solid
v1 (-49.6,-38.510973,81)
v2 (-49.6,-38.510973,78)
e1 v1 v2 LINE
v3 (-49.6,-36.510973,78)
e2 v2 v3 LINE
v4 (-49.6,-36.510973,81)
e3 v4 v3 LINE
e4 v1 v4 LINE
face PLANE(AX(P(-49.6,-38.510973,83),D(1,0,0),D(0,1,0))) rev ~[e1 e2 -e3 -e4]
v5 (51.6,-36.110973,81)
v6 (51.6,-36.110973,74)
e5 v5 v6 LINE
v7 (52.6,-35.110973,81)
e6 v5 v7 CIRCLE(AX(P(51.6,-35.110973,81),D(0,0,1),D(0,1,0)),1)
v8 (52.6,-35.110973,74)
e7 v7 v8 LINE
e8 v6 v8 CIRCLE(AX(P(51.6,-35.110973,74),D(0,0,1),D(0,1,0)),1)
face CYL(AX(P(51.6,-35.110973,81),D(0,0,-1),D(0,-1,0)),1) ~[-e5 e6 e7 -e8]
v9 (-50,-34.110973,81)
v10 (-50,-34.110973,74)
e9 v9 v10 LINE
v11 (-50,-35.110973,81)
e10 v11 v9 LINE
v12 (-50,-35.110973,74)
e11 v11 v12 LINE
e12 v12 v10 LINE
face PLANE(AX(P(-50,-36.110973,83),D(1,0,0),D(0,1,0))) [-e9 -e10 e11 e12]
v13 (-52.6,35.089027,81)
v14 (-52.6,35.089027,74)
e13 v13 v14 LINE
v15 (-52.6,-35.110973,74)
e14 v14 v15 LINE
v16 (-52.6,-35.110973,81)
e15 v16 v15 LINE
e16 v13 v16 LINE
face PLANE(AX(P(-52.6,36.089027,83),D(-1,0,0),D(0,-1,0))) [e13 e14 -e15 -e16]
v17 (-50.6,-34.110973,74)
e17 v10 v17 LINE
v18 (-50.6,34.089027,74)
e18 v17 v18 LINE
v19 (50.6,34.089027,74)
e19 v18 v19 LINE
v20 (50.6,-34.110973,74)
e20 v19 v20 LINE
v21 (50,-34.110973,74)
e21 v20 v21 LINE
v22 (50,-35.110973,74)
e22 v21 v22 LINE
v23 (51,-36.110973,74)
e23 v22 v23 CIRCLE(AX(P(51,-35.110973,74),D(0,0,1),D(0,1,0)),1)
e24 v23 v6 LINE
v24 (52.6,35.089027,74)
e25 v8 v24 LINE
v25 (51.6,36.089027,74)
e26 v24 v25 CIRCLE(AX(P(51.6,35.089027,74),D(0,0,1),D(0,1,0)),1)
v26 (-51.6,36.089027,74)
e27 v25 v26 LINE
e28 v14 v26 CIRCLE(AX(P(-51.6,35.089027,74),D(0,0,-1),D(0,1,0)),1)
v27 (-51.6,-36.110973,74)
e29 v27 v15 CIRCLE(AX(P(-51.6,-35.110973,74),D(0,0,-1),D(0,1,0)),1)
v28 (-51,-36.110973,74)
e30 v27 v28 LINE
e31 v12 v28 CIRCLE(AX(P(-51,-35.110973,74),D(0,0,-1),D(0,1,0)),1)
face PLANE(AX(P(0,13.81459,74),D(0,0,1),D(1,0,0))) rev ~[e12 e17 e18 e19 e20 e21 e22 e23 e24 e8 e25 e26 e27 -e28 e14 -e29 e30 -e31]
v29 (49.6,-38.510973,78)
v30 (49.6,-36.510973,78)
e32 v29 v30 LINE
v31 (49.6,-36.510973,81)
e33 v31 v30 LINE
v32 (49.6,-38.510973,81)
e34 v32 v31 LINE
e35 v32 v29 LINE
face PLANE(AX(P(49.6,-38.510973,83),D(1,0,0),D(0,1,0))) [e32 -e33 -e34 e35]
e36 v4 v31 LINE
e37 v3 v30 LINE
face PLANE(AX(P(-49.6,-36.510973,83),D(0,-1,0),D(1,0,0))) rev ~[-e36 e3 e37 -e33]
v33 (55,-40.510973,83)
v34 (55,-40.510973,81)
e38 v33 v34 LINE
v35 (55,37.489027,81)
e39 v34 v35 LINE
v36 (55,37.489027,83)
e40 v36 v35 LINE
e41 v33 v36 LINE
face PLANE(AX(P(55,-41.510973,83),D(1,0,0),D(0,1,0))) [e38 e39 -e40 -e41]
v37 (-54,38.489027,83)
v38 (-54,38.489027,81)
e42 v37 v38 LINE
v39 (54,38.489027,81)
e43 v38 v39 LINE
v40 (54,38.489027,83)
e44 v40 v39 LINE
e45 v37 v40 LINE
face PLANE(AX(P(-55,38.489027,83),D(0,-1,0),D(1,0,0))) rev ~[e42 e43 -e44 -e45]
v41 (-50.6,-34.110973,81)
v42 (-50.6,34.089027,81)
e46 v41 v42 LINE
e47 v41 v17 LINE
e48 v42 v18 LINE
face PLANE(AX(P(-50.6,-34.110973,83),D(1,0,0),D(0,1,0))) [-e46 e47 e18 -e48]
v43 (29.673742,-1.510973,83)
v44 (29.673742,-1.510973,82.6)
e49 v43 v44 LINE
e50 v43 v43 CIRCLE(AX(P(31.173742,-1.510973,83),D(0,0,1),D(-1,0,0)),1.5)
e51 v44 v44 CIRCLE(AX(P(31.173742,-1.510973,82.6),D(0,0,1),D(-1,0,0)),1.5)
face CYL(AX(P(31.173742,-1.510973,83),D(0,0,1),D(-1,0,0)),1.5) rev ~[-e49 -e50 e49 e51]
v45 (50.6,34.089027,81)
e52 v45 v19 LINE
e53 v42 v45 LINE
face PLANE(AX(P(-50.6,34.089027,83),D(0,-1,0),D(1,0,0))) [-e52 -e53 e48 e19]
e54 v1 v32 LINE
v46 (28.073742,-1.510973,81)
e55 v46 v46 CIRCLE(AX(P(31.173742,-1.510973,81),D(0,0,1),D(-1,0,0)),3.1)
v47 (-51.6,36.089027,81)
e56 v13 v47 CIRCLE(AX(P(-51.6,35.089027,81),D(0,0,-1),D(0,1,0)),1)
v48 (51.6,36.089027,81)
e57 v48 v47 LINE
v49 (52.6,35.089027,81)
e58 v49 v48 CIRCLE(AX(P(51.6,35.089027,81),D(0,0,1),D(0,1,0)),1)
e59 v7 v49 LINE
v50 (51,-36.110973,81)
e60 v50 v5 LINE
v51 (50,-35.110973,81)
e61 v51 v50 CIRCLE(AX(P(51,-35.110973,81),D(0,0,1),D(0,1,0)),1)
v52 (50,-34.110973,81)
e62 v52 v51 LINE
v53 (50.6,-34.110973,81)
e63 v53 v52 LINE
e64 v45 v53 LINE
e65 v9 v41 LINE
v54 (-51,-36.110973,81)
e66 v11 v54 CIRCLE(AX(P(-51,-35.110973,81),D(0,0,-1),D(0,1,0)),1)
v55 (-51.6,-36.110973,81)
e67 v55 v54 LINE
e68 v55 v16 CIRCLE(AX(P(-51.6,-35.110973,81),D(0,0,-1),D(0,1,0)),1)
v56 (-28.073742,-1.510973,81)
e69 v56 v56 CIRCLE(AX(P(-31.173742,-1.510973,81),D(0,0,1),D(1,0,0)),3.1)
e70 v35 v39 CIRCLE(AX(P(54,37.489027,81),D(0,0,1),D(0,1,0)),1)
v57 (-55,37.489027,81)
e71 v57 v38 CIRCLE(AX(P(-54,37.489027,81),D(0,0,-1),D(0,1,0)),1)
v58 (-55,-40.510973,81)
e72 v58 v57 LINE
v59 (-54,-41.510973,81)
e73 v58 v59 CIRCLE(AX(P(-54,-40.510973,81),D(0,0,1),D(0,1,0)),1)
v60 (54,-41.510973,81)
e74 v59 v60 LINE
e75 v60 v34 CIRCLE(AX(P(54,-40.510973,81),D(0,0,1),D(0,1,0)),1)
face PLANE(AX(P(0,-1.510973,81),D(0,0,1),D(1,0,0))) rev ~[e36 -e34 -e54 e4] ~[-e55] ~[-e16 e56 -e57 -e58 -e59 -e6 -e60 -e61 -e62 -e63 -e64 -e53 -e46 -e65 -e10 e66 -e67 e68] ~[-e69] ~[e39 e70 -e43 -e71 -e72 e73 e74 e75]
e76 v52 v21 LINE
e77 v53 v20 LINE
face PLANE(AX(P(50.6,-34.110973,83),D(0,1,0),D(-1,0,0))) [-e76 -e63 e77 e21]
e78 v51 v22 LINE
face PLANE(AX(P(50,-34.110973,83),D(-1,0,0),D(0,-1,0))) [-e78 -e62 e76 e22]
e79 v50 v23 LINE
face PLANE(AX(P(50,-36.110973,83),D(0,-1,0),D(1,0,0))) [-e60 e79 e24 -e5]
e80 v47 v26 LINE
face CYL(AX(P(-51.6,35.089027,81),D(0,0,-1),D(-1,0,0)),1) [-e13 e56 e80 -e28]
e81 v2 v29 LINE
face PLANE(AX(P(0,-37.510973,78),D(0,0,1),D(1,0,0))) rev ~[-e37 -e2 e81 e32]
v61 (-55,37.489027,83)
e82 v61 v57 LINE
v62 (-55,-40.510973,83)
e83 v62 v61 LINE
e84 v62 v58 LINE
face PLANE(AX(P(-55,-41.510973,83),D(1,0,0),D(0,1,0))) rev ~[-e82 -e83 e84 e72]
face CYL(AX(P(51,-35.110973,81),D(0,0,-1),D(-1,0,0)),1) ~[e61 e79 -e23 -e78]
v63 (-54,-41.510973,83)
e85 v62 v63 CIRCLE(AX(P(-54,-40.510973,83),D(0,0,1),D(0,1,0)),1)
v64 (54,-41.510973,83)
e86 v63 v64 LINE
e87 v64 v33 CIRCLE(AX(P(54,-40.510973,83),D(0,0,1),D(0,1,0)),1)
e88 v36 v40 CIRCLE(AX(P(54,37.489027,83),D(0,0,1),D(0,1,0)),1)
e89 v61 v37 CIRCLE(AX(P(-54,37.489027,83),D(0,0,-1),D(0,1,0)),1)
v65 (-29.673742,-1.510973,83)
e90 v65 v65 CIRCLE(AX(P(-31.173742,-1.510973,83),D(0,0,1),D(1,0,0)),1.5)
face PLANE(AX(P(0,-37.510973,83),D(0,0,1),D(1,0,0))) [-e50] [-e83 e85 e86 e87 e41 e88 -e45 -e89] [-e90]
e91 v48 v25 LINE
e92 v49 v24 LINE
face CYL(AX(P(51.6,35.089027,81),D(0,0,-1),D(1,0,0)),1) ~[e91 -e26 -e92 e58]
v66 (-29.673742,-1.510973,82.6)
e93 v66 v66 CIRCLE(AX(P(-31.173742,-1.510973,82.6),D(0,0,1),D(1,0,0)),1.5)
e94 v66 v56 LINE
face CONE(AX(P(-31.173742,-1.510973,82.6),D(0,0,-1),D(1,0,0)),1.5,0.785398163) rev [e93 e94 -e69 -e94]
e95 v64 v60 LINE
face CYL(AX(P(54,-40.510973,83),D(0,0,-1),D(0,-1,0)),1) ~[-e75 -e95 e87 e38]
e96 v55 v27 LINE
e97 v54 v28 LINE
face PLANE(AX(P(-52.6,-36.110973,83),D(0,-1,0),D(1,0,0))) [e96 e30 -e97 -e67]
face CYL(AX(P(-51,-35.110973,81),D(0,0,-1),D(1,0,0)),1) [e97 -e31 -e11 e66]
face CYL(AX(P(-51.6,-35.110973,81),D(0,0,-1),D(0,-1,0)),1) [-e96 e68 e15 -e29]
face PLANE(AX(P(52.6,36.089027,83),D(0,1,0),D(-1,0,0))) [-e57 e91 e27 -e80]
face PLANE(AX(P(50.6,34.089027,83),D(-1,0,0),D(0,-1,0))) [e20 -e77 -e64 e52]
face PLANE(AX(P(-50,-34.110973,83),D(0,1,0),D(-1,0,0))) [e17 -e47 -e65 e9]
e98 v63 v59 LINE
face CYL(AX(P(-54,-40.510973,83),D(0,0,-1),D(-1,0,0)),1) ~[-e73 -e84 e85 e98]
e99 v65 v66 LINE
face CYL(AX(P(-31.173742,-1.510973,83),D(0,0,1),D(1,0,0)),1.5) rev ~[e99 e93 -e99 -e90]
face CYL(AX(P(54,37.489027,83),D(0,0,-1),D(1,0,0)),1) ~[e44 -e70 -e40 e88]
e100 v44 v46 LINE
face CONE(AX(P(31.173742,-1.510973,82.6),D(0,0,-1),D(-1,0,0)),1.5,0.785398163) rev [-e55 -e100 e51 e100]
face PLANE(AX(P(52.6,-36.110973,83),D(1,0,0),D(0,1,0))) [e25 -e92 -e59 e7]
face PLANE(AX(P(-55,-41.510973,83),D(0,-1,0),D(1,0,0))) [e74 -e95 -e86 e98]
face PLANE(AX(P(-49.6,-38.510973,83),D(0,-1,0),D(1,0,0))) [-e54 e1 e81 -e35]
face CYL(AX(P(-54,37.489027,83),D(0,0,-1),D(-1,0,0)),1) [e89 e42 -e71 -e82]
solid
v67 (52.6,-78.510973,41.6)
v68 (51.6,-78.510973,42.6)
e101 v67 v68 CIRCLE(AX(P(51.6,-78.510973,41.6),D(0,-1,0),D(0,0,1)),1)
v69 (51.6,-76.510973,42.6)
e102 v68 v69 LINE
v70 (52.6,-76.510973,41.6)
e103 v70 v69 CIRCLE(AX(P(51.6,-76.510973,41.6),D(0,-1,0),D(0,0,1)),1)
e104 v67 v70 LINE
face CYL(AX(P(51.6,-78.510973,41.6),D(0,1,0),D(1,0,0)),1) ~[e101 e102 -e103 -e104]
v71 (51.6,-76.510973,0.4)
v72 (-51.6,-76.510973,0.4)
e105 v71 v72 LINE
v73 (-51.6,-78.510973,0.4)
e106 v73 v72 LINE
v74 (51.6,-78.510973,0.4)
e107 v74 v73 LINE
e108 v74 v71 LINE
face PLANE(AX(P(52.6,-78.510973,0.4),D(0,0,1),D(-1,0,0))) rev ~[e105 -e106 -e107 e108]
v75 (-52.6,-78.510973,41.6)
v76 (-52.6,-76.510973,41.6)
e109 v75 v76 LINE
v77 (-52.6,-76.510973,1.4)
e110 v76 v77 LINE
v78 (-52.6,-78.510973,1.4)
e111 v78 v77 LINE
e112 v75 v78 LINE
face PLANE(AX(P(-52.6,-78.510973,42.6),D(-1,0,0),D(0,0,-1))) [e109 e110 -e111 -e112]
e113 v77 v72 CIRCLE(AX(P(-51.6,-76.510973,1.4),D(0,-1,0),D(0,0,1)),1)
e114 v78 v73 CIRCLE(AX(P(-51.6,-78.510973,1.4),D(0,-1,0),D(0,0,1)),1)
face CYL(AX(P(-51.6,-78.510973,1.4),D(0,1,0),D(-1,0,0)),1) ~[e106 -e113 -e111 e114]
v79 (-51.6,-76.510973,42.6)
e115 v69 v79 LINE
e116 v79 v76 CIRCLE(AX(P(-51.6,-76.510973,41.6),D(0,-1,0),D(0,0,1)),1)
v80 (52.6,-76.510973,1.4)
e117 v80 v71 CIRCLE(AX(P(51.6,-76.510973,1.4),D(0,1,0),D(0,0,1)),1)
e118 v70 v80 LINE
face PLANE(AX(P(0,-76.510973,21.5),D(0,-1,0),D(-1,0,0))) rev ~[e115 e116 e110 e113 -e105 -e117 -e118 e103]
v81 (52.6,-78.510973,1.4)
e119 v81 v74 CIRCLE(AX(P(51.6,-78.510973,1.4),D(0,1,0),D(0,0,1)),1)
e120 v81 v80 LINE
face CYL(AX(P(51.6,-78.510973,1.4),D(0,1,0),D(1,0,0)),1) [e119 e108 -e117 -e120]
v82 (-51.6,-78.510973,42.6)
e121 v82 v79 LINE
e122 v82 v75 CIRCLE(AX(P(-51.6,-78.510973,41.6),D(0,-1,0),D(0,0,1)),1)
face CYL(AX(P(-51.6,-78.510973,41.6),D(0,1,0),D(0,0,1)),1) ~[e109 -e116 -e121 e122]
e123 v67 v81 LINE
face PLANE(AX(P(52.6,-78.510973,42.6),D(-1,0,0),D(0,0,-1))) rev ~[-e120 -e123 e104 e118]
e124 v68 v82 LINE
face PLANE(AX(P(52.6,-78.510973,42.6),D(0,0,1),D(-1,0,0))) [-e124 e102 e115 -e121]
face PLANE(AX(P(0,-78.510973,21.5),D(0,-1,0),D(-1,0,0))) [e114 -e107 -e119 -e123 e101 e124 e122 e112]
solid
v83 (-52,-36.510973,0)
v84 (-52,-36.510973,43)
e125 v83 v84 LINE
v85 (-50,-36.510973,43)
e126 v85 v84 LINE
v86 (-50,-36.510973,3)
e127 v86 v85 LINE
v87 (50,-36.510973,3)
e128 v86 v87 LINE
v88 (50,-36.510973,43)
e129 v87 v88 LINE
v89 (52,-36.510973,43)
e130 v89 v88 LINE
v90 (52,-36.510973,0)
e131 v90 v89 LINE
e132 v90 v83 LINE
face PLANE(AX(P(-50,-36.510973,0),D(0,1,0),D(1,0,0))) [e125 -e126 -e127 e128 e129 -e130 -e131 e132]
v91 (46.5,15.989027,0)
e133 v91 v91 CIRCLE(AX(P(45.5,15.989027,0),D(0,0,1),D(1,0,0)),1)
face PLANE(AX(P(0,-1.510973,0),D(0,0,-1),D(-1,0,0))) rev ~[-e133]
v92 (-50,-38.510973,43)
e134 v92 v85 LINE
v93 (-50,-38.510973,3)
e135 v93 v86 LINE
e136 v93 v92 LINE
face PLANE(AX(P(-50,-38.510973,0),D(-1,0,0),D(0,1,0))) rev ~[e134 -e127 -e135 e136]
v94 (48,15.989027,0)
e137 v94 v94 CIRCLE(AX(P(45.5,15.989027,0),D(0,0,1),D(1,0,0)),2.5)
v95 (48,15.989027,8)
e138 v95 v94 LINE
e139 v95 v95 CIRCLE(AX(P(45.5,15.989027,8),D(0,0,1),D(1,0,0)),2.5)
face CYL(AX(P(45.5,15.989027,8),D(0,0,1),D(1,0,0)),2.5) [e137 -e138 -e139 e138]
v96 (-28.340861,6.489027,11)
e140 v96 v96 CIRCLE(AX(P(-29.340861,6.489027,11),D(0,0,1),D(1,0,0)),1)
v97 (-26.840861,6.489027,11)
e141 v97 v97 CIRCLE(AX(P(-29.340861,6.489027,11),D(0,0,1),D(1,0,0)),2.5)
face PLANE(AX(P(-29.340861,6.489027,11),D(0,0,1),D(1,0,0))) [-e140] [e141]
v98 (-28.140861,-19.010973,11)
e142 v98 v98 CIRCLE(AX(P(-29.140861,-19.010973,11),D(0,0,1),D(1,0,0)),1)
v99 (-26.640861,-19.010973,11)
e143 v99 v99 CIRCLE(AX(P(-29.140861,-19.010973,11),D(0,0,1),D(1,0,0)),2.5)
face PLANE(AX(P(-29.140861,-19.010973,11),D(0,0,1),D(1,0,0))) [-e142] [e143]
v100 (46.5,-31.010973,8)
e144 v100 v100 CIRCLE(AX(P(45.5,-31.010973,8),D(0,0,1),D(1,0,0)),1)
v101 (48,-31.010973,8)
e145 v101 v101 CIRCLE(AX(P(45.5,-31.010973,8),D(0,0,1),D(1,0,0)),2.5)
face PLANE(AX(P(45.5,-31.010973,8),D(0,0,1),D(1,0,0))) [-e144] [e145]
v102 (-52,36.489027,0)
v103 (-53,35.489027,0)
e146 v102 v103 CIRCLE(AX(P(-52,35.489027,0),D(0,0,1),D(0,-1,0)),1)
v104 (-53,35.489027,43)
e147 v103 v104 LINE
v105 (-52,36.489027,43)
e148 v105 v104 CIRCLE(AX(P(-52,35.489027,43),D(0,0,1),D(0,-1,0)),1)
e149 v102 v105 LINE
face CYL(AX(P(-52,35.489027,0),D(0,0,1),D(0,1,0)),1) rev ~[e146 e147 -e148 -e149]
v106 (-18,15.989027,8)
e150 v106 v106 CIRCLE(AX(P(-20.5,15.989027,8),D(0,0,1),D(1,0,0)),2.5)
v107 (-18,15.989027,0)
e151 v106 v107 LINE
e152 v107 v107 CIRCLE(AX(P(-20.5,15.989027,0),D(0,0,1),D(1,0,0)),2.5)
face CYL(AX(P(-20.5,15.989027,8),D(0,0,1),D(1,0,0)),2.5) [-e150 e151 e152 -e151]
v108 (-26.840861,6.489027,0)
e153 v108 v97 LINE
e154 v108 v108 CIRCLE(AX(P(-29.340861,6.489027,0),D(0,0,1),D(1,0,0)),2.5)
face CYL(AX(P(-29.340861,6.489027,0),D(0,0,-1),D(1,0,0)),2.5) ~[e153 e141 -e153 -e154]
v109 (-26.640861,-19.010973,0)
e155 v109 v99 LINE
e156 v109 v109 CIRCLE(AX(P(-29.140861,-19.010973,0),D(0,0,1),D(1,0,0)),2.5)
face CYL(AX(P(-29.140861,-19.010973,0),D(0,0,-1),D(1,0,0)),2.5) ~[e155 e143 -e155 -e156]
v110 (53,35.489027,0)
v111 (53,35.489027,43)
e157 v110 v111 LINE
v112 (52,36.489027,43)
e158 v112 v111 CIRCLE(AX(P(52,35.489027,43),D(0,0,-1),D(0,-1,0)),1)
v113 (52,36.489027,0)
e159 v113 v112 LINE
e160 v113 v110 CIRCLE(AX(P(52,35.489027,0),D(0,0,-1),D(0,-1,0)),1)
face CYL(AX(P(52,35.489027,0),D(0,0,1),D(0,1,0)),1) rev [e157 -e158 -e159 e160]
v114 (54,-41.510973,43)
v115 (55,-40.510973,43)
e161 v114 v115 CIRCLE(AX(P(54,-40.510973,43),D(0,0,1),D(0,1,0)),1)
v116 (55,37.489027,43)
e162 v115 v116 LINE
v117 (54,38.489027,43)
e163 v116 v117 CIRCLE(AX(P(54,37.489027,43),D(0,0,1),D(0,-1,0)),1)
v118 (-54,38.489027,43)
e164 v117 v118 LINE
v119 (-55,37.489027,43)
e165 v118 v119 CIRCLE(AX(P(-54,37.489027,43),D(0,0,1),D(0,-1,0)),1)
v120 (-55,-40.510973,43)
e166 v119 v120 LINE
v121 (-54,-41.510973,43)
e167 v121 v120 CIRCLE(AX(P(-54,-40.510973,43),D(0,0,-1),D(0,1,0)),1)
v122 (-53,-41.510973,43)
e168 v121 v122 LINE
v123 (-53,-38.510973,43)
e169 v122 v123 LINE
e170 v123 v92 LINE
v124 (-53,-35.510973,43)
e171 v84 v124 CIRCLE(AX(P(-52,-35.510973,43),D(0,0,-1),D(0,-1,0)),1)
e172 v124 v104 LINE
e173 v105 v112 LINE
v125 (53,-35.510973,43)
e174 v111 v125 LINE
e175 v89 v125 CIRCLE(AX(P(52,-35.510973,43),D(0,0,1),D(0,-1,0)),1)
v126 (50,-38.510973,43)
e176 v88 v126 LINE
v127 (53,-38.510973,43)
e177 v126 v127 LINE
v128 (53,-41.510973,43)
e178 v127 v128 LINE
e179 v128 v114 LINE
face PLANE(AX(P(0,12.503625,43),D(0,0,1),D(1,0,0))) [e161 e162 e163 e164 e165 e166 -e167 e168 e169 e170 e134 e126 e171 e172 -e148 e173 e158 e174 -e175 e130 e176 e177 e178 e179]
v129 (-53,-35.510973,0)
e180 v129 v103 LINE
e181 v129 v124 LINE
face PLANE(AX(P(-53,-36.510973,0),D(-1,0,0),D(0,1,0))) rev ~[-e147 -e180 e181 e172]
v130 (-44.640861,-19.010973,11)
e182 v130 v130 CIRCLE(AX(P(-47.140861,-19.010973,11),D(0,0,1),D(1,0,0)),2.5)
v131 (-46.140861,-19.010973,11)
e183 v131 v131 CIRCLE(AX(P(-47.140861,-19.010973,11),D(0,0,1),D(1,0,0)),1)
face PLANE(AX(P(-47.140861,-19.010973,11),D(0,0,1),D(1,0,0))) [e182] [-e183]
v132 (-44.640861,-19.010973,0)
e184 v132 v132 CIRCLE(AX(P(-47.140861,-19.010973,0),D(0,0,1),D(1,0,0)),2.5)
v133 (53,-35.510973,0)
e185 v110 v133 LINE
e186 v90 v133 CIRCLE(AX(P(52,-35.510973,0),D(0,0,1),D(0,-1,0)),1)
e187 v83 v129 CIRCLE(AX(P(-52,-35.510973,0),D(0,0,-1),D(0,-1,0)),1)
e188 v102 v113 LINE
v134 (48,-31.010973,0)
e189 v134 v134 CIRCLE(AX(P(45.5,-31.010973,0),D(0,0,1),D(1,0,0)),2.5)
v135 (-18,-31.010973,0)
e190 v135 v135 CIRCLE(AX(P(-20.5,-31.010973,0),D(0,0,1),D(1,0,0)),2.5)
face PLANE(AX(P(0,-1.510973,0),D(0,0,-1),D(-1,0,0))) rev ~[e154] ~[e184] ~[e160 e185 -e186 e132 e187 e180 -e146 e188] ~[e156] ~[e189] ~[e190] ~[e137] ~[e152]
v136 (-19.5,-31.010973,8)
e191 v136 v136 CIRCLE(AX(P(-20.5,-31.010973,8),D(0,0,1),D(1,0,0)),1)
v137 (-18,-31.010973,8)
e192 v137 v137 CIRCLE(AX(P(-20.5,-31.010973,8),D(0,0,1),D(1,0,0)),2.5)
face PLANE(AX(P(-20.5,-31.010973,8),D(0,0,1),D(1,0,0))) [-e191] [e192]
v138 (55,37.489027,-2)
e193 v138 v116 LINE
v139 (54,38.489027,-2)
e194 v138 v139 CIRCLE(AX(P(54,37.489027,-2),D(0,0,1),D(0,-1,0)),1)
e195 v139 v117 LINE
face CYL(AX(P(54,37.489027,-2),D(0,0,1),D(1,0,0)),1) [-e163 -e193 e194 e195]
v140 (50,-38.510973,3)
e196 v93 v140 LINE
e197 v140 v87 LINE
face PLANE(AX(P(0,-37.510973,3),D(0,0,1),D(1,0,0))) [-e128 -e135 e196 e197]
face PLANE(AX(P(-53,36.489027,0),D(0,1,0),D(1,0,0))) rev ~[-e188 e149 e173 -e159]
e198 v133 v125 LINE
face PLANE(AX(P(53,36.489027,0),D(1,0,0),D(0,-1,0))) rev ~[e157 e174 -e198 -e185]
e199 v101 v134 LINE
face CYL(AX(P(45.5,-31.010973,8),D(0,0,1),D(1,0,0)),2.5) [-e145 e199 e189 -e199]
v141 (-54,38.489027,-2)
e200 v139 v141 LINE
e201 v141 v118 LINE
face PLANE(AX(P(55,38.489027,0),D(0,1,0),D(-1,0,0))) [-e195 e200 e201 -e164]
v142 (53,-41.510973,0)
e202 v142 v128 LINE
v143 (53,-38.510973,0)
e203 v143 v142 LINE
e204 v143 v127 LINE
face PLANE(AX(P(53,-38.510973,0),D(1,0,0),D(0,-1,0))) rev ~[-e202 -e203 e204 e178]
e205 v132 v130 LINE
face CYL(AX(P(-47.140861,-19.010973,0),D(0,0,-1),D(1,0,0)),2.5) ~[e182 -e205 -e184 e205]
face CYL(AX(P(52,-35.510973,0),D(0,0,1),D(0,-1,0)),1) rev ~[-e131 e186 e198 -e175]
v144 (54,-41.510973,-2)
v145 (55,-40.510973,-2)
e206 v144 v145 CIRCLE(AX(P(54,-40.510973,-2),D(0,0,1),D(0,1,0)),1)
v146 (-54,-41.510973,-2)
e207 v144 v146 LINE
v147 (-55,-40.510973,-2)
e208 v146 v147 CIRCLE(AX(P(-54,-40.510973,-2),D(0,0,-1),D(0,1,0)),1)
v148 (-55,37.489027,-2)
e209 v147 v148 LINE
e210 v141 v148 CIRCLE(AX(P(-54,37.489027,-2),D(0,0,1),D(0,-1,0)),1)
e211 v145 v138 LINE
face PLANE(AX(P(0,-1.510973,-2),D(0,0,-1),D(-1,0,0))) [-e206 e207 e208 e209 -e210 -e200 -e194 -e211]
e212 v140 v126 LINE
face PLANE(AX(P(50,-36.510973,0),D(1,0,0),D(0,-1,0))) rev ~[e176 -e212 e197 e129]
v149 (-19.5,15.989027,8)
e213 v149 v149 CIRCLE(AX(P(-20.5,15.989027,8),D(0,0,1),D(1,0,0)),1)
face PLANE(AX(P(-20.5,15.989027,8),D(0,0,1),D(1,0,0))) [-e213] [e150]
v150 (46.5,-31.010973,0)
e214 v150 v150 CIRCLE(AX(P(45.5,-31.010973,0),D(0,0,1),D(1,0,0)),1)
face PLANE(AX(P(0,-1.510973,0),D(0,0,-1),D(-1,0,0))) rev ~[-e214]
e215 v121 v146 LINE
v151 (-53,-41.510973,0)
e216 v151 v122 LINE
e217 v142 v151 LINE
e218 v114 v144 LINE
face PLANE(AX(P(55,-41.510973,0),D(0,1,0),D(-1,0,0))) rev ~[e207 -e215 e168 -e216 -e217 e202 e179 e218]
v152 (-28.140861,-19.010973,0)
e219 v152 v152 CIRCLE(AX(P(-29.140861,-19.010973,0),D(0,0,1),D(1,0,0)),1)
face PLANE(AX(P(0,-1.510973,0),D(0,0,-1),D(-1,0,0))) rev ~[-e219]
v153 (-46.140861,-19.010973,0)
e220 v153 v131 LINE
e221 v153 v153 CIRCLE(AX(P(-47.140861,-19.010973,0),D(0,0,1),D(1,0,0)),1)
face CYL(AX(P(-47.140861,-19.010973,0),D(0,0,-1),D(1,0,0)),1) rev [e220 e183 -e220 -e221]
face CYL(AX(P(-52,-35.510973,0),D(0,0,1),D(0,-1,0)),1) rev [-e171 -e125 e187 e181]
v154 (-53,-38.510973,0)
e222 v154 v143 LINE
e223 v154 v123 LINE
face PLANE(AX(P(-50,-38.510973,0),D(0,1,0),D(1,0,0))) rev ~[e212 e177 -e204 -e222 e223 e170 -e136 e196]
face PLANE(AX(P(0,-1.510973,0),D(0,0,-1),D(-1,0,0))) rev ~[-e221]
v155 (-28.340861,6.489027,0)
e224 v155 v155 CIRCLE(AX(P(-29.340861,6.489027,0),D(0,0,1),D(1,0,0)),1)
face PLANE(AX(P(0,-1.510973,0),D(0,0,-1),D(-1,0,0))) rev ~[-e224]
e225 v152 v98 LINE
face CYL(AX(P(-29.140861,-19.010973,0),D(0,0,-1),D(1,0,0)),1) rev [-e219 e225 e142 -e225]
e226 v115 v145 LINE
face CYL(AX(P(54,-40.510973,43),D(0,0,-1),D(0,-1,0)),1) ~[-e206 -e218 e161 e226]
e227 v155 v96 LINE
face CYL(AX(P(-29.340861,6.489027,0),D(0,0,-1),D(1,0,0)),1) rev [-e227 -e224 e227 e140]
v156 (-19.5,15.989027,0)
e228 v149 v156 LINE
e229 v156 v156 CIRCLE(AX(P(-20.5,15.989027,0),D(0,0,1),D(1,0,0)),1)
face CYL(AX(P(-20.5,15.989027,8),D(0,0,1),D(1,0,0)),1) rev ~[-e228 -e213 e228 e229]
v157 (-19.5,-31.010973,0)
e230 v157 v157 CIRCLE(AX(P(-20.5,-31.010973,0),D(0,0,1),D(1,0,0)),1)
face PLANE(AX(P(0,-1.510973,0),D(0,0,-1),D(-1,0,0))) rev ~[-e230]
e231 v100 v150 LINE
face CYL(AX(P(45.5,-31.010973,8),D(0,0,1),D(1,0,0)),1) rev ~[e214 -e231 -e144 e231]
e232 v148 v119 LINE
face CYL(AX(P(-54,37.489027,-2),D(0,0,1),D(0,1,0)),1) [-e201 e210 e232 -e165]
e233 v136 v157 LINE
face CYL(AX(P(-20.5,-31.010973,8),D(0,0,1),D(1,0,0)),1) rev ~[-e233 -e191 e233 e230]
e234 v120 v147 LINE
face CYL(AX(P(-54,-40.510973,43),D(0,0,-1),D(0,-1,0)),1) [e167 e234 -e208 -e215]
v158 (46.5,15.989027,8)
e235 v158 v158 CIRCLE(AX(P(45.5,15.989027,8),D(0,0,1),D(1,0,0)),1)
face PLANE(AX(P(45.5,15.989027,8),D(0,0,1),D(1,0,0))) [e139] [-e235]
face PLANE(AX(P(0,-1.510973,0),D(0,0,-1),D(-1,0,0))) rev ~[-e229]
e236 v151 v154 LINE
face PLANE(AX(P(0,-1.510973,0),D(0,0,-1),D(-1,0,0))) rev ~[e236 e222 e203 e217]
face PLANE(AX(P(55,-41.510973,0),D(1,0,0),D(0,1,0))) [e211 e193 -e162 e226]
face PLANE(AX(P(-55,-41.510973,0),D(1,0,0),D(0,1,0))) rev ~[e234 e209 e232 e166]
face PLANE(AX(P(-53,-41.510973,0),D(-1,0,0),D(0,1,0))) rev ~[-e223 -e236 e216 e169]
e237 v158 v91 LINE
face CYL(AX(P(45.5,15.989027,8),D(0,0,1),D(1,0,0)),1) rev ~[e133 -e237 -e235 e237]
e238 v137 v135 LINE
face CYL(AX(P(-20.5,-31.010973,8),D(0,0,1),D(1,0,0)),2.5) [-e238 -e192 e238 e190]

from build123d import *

# Parameters (mm, degrees)
EXTRUDE_3_DEPTH  = 43
SKETCH_2_W       = 110
SKETCH_2_H       = 80
EXTRUDE_4_DEPTH  = 2
SKETCH_3_R       = 2.5
SKETCH_3_R_2     = 1
EXTRUDE_2_DEPTH  = 8
SKETCH_4_W       = 100
SKETCH_4_H       = 2
EXTRUDE_5_DEPTH  = 3
SKETCH_5_W       = 110
SKETCH_5_H       = 80
SKETCH_5_R       = 1.5
EXTRUDE_6_DEPTH  = 2
EXTRUDE_7_DEPTH  = 9
SKETCH_6_3_W     = 99.2
SKETCH_6_3_H     = 2
EXTRUDE_8_DEPTH  = 5
SKETCH_10_W      = 105.2
SKETCH_10_H      = 42.2
EXTRUDE_9_DEPTH  = 2
CHAMFER_1_SIZE   = 1.6
FILLET_1_R       = 1
FILLET_2_R       = 1
FILLET_3_R       = 1
EXTRUDE_START    = -8
SKETCH_3_3_R     = 2.5
SKETCH_3_3_R_2   = 1
EXTRUDE_10_DEPTH = 11


with BuildPart() as part:
    # Эскиз1 → Бобышка-Вытянуть3 (new body)
    with BuildSketch(Plane.XY):
        Polygon((-55, -41.510973155), (-53, -41.510973155), (-53, -38.510973155), (-50, -38.510973155), (-50, -36.510973155), (-53, -36.510973155), (-53, 36.489026845), (53, 36.489026845), (53, -36.510973155), (50, -36.510973155), (50, -38.510973155), (53, -38.510973155), (53, -41.510973155), (55, -41.510973155), (55, 38.489026845), (-55, 38.489026845), align=None)
    extrude(amount=EXTRUDE_3_DEPTH)

    # Эскиз2 → Бобышка-Вытянуть4 (add)
    with BuildSketch(Plane(origin=(0, 0, 0), x_dir=(-1, 0, 0), z_dir=(0, 0, -1))):
        with Locations((0, -1.510973155)):
            Rectangle(SKETCH_2_W, SKETCH_2_H)
    extrude(amount=EXTRUDE_4_DEPTH)

    # Эскиз3 → Бобышка-Вытянуть2 (add)
    # profile 1 of 4: a face of its own
    with BuildSketch(Plane.XY.offset(8)):
        with Locations((-20.5, 15.989026845)):
            Circle(SKETCH_3_R)
        with Locations((-20.5, 15.989026845)):
            Circle(SKETCH_3_R_2, mode=Mode.SUBTRACT)
    # profile 2 of 4: a face of its own
    with BuildSketch(Plane.XY.offset(8)):
        with Locations((45.5, 15.989026845)):
            Circle(SKETCH_3_R)
        with Locations((45.5, 15.989026845)):
            Circle(SKETCH_3_R_2, mode=Mode.SUBTRACT)
    # profile 3 of 4: a face of its own
    with BuildSketch(Plane.XY.offset(8)):
        with Locations((45.5, -31.010973155)):
            Circle(SKETCH_3_R)
        with Locations((45.5, -31.010973155)):
            Circle(SKETCH_3_R_2, mode=Mode.SUBTRACT)
    # profile 4 of 4: a face of its own
    with BuildSketch(Plane.XY.offset(8)):
        with Locations((-20.5, -31.010973155)):
            Circle(SKETCH_3_R)
        with Locations((-20.5, -31.010973155)):
            Circle(SKETCH_3_R_2, mode=Mode.SUBTRACT)
    extrude(amount=-EXTRUDE_2_DEPTH)

    # Эскиз4 → Бобышка-Вытянуть5 (add)
    with BuildSketch(Plane.XY):
        with Locations((0, -37.510973155)):
            Rectangle(SKETCH_4_W, SKETCH_4_H)
    extrude(amount=EXTRUDE_5_DEPTH)

    # Скругление1
    fillet_1_edges = [part.edges().sort_by_distance(p)[0] for p in [
        (53, -36.510973155, 21.5),
        (53, 36.489026845, 21.5),
        (-53, 36.489026845, 21.5),
        (-53, -36.510973155, 21.5),
        (-55, -41.510973155, 20.5),
        (-55, 38.489026845, 20.5),
        (55, 38.489026845, 20.5),
        (55, -41.510973155, 20.5),
    ]]
    fillet(fillet_1_edges, radius=FILLET_1_R)

    # Эскиз3<3> → Бобышка-Вытянуть10 (add)
    # profile 1 of 3: a face of its own
    with BuildSketch(Plane.XY.offset(8).offset(EXTRUDE_START)):
        with Locations((-47.140860557, -19.010973155)):
            Circle(SKETCH_3_3_R)
        with Locations((-47.140860557, -19.010973155)):
            Circle(SKETCH_3_3_R_2, mode=Mode.SUBTRACT)
    # profile 2 of 3: a face of its own
    with BuildSketch(Plane.XY.offset(8).offset(EXTRUDE_START)):
        with Locations((-29.140860557, -19.010973155)):
            Circle(SKETCH_3_3_R)
        with Locations((-29.140860557, -19.010973155)):
            Circle(SKETCH_3_3_R_2, mode=Mode.SUBTRACT)
    # profile 3 of 3: a face of its own
    with BuildSketch(Plane.XY.offset(8).offset(EXTRUDE_START)):
        with Locations((-29.340860557, 6.489026845)):
            Circle(SKETCH_3_3_R)
        with Locations((-29.340860557, 6.489026845)):
            Circle(SKETCH_3_3_R_2, mode=Mode.SUBTRACT)
    extrude(amount=EXTRUDE_10_DEPTH)


with BuildPart() as body_2:
    # Эскиз5 → Бобышка-Вытянуть6 (new body)
    with BuildSketch(Plane.XY.offset(83)):
        with Locations((0, -1.510973155)):
            Rectangle(SKETCH_5_W, SKETCH_5_H)
        with Locations((-31.17374206, -1.510973155)):
            Circle(SKETCH_5_R, mode=Mode.SUBTRACT)
        with Locations(Location((31.17374206, -1.510973155, 0), (0, 0, 180))):
            Circle(SKETCH_5_R, mode=Mode.SUBTRACT)
    extrude(amount=-EXTRUDE_6_DEPTH)

    # Эскиз6 → Бобышка-Вытянуть7 (add)
    with BuildSketch(Plane.XY.offset(83)):
        Polygon((-50.6, 34.089026845), (50.6, 34.089026845), (50.6, -34.110973155), (50, -34.110973155), (50, -36.110973155), (52.6, -36.110973155), (52.6, 36.089026845), (-52.6, 36.089026845), (-52.6, -36.110973155), (-50, -36.110973155), (-50, -34.110973155), (-50.6, -34.110973155), align=None)
    extrude(amount=-EXTRUDE_7_DEPTH)

    # Эскиз6<3> → Бобышка-Вытянуть8 (add)
    with BuildSketch(Plane.XY.offset(83)):
        with Locations((0, -37.510973155)):
            Rectangle(SKETCH_6_3_W, SKETCH_6_3_H)
    extrude(amount=-EXTRUDE_8_DEPTH)

    # Фаска1
    chamfer_1_edges = [body_2.edges().sort_by_distance(p)[0] for p in [
        (-32.67374206, -1.510973155, 81),
        (32.67374206, -1.510973155, 81),
    ]]
    chamfer(chamfer_1_edges, length=CHAMFER_1_SIZE)

    # Скругление2
    fillet_2_edges = [body_2.edges().sort_by_distance(p)[0] for p in [
        (-50, -36.110973155, 77.5),
        (-52.6, -36.110973155, 77.5),
        (-52.6, 36.089026845, 77.5),
        (52.6, 36.089026845, 77.5),
        (52.6, -36.110973155, 77.5),
        (50, -36.110973155, 77.5),
        (-55, -41.510973155, 82),
        (-55, 38.489026845, 82),
        (55, 38.489026845, 82),
        (55, -41.510973155, 82),
    ]]
    fillet(fillet_2_edges, radius=FILLET_2_R)


with BuildPart() as body_3:
    # Эскиз10 → Бобышка-Вытянуть9 (new body)
    with BuildSketch(Plane(origin=(0, -78.510973155, 0), x_dir=(-1, 0, 0), z_dir=(0, -1, 0))):
        with Locations((0, -21.5)):
            Rectangle(SKETCH_10_W, SKETCH_10_H)
    extrude(amount=-EXTRUDE_9_DEPTH)

    # Скругление3
    fillet_3_edges = [body_3.edges().sort_by_distance(p)[0] for p in [
        (52.6, -77.510973155, 0.4),
        (-52.6, -77.510973155, 0.4),
        (-52.6, -77.510973155, 42.6),
        (52.6, -77.510973155, 42.6),
    ]]
    fillet(fillet_3_edges, radius=FILLET_3_R)


solid = Compound([part.part, body_2.part, body_3.part])
